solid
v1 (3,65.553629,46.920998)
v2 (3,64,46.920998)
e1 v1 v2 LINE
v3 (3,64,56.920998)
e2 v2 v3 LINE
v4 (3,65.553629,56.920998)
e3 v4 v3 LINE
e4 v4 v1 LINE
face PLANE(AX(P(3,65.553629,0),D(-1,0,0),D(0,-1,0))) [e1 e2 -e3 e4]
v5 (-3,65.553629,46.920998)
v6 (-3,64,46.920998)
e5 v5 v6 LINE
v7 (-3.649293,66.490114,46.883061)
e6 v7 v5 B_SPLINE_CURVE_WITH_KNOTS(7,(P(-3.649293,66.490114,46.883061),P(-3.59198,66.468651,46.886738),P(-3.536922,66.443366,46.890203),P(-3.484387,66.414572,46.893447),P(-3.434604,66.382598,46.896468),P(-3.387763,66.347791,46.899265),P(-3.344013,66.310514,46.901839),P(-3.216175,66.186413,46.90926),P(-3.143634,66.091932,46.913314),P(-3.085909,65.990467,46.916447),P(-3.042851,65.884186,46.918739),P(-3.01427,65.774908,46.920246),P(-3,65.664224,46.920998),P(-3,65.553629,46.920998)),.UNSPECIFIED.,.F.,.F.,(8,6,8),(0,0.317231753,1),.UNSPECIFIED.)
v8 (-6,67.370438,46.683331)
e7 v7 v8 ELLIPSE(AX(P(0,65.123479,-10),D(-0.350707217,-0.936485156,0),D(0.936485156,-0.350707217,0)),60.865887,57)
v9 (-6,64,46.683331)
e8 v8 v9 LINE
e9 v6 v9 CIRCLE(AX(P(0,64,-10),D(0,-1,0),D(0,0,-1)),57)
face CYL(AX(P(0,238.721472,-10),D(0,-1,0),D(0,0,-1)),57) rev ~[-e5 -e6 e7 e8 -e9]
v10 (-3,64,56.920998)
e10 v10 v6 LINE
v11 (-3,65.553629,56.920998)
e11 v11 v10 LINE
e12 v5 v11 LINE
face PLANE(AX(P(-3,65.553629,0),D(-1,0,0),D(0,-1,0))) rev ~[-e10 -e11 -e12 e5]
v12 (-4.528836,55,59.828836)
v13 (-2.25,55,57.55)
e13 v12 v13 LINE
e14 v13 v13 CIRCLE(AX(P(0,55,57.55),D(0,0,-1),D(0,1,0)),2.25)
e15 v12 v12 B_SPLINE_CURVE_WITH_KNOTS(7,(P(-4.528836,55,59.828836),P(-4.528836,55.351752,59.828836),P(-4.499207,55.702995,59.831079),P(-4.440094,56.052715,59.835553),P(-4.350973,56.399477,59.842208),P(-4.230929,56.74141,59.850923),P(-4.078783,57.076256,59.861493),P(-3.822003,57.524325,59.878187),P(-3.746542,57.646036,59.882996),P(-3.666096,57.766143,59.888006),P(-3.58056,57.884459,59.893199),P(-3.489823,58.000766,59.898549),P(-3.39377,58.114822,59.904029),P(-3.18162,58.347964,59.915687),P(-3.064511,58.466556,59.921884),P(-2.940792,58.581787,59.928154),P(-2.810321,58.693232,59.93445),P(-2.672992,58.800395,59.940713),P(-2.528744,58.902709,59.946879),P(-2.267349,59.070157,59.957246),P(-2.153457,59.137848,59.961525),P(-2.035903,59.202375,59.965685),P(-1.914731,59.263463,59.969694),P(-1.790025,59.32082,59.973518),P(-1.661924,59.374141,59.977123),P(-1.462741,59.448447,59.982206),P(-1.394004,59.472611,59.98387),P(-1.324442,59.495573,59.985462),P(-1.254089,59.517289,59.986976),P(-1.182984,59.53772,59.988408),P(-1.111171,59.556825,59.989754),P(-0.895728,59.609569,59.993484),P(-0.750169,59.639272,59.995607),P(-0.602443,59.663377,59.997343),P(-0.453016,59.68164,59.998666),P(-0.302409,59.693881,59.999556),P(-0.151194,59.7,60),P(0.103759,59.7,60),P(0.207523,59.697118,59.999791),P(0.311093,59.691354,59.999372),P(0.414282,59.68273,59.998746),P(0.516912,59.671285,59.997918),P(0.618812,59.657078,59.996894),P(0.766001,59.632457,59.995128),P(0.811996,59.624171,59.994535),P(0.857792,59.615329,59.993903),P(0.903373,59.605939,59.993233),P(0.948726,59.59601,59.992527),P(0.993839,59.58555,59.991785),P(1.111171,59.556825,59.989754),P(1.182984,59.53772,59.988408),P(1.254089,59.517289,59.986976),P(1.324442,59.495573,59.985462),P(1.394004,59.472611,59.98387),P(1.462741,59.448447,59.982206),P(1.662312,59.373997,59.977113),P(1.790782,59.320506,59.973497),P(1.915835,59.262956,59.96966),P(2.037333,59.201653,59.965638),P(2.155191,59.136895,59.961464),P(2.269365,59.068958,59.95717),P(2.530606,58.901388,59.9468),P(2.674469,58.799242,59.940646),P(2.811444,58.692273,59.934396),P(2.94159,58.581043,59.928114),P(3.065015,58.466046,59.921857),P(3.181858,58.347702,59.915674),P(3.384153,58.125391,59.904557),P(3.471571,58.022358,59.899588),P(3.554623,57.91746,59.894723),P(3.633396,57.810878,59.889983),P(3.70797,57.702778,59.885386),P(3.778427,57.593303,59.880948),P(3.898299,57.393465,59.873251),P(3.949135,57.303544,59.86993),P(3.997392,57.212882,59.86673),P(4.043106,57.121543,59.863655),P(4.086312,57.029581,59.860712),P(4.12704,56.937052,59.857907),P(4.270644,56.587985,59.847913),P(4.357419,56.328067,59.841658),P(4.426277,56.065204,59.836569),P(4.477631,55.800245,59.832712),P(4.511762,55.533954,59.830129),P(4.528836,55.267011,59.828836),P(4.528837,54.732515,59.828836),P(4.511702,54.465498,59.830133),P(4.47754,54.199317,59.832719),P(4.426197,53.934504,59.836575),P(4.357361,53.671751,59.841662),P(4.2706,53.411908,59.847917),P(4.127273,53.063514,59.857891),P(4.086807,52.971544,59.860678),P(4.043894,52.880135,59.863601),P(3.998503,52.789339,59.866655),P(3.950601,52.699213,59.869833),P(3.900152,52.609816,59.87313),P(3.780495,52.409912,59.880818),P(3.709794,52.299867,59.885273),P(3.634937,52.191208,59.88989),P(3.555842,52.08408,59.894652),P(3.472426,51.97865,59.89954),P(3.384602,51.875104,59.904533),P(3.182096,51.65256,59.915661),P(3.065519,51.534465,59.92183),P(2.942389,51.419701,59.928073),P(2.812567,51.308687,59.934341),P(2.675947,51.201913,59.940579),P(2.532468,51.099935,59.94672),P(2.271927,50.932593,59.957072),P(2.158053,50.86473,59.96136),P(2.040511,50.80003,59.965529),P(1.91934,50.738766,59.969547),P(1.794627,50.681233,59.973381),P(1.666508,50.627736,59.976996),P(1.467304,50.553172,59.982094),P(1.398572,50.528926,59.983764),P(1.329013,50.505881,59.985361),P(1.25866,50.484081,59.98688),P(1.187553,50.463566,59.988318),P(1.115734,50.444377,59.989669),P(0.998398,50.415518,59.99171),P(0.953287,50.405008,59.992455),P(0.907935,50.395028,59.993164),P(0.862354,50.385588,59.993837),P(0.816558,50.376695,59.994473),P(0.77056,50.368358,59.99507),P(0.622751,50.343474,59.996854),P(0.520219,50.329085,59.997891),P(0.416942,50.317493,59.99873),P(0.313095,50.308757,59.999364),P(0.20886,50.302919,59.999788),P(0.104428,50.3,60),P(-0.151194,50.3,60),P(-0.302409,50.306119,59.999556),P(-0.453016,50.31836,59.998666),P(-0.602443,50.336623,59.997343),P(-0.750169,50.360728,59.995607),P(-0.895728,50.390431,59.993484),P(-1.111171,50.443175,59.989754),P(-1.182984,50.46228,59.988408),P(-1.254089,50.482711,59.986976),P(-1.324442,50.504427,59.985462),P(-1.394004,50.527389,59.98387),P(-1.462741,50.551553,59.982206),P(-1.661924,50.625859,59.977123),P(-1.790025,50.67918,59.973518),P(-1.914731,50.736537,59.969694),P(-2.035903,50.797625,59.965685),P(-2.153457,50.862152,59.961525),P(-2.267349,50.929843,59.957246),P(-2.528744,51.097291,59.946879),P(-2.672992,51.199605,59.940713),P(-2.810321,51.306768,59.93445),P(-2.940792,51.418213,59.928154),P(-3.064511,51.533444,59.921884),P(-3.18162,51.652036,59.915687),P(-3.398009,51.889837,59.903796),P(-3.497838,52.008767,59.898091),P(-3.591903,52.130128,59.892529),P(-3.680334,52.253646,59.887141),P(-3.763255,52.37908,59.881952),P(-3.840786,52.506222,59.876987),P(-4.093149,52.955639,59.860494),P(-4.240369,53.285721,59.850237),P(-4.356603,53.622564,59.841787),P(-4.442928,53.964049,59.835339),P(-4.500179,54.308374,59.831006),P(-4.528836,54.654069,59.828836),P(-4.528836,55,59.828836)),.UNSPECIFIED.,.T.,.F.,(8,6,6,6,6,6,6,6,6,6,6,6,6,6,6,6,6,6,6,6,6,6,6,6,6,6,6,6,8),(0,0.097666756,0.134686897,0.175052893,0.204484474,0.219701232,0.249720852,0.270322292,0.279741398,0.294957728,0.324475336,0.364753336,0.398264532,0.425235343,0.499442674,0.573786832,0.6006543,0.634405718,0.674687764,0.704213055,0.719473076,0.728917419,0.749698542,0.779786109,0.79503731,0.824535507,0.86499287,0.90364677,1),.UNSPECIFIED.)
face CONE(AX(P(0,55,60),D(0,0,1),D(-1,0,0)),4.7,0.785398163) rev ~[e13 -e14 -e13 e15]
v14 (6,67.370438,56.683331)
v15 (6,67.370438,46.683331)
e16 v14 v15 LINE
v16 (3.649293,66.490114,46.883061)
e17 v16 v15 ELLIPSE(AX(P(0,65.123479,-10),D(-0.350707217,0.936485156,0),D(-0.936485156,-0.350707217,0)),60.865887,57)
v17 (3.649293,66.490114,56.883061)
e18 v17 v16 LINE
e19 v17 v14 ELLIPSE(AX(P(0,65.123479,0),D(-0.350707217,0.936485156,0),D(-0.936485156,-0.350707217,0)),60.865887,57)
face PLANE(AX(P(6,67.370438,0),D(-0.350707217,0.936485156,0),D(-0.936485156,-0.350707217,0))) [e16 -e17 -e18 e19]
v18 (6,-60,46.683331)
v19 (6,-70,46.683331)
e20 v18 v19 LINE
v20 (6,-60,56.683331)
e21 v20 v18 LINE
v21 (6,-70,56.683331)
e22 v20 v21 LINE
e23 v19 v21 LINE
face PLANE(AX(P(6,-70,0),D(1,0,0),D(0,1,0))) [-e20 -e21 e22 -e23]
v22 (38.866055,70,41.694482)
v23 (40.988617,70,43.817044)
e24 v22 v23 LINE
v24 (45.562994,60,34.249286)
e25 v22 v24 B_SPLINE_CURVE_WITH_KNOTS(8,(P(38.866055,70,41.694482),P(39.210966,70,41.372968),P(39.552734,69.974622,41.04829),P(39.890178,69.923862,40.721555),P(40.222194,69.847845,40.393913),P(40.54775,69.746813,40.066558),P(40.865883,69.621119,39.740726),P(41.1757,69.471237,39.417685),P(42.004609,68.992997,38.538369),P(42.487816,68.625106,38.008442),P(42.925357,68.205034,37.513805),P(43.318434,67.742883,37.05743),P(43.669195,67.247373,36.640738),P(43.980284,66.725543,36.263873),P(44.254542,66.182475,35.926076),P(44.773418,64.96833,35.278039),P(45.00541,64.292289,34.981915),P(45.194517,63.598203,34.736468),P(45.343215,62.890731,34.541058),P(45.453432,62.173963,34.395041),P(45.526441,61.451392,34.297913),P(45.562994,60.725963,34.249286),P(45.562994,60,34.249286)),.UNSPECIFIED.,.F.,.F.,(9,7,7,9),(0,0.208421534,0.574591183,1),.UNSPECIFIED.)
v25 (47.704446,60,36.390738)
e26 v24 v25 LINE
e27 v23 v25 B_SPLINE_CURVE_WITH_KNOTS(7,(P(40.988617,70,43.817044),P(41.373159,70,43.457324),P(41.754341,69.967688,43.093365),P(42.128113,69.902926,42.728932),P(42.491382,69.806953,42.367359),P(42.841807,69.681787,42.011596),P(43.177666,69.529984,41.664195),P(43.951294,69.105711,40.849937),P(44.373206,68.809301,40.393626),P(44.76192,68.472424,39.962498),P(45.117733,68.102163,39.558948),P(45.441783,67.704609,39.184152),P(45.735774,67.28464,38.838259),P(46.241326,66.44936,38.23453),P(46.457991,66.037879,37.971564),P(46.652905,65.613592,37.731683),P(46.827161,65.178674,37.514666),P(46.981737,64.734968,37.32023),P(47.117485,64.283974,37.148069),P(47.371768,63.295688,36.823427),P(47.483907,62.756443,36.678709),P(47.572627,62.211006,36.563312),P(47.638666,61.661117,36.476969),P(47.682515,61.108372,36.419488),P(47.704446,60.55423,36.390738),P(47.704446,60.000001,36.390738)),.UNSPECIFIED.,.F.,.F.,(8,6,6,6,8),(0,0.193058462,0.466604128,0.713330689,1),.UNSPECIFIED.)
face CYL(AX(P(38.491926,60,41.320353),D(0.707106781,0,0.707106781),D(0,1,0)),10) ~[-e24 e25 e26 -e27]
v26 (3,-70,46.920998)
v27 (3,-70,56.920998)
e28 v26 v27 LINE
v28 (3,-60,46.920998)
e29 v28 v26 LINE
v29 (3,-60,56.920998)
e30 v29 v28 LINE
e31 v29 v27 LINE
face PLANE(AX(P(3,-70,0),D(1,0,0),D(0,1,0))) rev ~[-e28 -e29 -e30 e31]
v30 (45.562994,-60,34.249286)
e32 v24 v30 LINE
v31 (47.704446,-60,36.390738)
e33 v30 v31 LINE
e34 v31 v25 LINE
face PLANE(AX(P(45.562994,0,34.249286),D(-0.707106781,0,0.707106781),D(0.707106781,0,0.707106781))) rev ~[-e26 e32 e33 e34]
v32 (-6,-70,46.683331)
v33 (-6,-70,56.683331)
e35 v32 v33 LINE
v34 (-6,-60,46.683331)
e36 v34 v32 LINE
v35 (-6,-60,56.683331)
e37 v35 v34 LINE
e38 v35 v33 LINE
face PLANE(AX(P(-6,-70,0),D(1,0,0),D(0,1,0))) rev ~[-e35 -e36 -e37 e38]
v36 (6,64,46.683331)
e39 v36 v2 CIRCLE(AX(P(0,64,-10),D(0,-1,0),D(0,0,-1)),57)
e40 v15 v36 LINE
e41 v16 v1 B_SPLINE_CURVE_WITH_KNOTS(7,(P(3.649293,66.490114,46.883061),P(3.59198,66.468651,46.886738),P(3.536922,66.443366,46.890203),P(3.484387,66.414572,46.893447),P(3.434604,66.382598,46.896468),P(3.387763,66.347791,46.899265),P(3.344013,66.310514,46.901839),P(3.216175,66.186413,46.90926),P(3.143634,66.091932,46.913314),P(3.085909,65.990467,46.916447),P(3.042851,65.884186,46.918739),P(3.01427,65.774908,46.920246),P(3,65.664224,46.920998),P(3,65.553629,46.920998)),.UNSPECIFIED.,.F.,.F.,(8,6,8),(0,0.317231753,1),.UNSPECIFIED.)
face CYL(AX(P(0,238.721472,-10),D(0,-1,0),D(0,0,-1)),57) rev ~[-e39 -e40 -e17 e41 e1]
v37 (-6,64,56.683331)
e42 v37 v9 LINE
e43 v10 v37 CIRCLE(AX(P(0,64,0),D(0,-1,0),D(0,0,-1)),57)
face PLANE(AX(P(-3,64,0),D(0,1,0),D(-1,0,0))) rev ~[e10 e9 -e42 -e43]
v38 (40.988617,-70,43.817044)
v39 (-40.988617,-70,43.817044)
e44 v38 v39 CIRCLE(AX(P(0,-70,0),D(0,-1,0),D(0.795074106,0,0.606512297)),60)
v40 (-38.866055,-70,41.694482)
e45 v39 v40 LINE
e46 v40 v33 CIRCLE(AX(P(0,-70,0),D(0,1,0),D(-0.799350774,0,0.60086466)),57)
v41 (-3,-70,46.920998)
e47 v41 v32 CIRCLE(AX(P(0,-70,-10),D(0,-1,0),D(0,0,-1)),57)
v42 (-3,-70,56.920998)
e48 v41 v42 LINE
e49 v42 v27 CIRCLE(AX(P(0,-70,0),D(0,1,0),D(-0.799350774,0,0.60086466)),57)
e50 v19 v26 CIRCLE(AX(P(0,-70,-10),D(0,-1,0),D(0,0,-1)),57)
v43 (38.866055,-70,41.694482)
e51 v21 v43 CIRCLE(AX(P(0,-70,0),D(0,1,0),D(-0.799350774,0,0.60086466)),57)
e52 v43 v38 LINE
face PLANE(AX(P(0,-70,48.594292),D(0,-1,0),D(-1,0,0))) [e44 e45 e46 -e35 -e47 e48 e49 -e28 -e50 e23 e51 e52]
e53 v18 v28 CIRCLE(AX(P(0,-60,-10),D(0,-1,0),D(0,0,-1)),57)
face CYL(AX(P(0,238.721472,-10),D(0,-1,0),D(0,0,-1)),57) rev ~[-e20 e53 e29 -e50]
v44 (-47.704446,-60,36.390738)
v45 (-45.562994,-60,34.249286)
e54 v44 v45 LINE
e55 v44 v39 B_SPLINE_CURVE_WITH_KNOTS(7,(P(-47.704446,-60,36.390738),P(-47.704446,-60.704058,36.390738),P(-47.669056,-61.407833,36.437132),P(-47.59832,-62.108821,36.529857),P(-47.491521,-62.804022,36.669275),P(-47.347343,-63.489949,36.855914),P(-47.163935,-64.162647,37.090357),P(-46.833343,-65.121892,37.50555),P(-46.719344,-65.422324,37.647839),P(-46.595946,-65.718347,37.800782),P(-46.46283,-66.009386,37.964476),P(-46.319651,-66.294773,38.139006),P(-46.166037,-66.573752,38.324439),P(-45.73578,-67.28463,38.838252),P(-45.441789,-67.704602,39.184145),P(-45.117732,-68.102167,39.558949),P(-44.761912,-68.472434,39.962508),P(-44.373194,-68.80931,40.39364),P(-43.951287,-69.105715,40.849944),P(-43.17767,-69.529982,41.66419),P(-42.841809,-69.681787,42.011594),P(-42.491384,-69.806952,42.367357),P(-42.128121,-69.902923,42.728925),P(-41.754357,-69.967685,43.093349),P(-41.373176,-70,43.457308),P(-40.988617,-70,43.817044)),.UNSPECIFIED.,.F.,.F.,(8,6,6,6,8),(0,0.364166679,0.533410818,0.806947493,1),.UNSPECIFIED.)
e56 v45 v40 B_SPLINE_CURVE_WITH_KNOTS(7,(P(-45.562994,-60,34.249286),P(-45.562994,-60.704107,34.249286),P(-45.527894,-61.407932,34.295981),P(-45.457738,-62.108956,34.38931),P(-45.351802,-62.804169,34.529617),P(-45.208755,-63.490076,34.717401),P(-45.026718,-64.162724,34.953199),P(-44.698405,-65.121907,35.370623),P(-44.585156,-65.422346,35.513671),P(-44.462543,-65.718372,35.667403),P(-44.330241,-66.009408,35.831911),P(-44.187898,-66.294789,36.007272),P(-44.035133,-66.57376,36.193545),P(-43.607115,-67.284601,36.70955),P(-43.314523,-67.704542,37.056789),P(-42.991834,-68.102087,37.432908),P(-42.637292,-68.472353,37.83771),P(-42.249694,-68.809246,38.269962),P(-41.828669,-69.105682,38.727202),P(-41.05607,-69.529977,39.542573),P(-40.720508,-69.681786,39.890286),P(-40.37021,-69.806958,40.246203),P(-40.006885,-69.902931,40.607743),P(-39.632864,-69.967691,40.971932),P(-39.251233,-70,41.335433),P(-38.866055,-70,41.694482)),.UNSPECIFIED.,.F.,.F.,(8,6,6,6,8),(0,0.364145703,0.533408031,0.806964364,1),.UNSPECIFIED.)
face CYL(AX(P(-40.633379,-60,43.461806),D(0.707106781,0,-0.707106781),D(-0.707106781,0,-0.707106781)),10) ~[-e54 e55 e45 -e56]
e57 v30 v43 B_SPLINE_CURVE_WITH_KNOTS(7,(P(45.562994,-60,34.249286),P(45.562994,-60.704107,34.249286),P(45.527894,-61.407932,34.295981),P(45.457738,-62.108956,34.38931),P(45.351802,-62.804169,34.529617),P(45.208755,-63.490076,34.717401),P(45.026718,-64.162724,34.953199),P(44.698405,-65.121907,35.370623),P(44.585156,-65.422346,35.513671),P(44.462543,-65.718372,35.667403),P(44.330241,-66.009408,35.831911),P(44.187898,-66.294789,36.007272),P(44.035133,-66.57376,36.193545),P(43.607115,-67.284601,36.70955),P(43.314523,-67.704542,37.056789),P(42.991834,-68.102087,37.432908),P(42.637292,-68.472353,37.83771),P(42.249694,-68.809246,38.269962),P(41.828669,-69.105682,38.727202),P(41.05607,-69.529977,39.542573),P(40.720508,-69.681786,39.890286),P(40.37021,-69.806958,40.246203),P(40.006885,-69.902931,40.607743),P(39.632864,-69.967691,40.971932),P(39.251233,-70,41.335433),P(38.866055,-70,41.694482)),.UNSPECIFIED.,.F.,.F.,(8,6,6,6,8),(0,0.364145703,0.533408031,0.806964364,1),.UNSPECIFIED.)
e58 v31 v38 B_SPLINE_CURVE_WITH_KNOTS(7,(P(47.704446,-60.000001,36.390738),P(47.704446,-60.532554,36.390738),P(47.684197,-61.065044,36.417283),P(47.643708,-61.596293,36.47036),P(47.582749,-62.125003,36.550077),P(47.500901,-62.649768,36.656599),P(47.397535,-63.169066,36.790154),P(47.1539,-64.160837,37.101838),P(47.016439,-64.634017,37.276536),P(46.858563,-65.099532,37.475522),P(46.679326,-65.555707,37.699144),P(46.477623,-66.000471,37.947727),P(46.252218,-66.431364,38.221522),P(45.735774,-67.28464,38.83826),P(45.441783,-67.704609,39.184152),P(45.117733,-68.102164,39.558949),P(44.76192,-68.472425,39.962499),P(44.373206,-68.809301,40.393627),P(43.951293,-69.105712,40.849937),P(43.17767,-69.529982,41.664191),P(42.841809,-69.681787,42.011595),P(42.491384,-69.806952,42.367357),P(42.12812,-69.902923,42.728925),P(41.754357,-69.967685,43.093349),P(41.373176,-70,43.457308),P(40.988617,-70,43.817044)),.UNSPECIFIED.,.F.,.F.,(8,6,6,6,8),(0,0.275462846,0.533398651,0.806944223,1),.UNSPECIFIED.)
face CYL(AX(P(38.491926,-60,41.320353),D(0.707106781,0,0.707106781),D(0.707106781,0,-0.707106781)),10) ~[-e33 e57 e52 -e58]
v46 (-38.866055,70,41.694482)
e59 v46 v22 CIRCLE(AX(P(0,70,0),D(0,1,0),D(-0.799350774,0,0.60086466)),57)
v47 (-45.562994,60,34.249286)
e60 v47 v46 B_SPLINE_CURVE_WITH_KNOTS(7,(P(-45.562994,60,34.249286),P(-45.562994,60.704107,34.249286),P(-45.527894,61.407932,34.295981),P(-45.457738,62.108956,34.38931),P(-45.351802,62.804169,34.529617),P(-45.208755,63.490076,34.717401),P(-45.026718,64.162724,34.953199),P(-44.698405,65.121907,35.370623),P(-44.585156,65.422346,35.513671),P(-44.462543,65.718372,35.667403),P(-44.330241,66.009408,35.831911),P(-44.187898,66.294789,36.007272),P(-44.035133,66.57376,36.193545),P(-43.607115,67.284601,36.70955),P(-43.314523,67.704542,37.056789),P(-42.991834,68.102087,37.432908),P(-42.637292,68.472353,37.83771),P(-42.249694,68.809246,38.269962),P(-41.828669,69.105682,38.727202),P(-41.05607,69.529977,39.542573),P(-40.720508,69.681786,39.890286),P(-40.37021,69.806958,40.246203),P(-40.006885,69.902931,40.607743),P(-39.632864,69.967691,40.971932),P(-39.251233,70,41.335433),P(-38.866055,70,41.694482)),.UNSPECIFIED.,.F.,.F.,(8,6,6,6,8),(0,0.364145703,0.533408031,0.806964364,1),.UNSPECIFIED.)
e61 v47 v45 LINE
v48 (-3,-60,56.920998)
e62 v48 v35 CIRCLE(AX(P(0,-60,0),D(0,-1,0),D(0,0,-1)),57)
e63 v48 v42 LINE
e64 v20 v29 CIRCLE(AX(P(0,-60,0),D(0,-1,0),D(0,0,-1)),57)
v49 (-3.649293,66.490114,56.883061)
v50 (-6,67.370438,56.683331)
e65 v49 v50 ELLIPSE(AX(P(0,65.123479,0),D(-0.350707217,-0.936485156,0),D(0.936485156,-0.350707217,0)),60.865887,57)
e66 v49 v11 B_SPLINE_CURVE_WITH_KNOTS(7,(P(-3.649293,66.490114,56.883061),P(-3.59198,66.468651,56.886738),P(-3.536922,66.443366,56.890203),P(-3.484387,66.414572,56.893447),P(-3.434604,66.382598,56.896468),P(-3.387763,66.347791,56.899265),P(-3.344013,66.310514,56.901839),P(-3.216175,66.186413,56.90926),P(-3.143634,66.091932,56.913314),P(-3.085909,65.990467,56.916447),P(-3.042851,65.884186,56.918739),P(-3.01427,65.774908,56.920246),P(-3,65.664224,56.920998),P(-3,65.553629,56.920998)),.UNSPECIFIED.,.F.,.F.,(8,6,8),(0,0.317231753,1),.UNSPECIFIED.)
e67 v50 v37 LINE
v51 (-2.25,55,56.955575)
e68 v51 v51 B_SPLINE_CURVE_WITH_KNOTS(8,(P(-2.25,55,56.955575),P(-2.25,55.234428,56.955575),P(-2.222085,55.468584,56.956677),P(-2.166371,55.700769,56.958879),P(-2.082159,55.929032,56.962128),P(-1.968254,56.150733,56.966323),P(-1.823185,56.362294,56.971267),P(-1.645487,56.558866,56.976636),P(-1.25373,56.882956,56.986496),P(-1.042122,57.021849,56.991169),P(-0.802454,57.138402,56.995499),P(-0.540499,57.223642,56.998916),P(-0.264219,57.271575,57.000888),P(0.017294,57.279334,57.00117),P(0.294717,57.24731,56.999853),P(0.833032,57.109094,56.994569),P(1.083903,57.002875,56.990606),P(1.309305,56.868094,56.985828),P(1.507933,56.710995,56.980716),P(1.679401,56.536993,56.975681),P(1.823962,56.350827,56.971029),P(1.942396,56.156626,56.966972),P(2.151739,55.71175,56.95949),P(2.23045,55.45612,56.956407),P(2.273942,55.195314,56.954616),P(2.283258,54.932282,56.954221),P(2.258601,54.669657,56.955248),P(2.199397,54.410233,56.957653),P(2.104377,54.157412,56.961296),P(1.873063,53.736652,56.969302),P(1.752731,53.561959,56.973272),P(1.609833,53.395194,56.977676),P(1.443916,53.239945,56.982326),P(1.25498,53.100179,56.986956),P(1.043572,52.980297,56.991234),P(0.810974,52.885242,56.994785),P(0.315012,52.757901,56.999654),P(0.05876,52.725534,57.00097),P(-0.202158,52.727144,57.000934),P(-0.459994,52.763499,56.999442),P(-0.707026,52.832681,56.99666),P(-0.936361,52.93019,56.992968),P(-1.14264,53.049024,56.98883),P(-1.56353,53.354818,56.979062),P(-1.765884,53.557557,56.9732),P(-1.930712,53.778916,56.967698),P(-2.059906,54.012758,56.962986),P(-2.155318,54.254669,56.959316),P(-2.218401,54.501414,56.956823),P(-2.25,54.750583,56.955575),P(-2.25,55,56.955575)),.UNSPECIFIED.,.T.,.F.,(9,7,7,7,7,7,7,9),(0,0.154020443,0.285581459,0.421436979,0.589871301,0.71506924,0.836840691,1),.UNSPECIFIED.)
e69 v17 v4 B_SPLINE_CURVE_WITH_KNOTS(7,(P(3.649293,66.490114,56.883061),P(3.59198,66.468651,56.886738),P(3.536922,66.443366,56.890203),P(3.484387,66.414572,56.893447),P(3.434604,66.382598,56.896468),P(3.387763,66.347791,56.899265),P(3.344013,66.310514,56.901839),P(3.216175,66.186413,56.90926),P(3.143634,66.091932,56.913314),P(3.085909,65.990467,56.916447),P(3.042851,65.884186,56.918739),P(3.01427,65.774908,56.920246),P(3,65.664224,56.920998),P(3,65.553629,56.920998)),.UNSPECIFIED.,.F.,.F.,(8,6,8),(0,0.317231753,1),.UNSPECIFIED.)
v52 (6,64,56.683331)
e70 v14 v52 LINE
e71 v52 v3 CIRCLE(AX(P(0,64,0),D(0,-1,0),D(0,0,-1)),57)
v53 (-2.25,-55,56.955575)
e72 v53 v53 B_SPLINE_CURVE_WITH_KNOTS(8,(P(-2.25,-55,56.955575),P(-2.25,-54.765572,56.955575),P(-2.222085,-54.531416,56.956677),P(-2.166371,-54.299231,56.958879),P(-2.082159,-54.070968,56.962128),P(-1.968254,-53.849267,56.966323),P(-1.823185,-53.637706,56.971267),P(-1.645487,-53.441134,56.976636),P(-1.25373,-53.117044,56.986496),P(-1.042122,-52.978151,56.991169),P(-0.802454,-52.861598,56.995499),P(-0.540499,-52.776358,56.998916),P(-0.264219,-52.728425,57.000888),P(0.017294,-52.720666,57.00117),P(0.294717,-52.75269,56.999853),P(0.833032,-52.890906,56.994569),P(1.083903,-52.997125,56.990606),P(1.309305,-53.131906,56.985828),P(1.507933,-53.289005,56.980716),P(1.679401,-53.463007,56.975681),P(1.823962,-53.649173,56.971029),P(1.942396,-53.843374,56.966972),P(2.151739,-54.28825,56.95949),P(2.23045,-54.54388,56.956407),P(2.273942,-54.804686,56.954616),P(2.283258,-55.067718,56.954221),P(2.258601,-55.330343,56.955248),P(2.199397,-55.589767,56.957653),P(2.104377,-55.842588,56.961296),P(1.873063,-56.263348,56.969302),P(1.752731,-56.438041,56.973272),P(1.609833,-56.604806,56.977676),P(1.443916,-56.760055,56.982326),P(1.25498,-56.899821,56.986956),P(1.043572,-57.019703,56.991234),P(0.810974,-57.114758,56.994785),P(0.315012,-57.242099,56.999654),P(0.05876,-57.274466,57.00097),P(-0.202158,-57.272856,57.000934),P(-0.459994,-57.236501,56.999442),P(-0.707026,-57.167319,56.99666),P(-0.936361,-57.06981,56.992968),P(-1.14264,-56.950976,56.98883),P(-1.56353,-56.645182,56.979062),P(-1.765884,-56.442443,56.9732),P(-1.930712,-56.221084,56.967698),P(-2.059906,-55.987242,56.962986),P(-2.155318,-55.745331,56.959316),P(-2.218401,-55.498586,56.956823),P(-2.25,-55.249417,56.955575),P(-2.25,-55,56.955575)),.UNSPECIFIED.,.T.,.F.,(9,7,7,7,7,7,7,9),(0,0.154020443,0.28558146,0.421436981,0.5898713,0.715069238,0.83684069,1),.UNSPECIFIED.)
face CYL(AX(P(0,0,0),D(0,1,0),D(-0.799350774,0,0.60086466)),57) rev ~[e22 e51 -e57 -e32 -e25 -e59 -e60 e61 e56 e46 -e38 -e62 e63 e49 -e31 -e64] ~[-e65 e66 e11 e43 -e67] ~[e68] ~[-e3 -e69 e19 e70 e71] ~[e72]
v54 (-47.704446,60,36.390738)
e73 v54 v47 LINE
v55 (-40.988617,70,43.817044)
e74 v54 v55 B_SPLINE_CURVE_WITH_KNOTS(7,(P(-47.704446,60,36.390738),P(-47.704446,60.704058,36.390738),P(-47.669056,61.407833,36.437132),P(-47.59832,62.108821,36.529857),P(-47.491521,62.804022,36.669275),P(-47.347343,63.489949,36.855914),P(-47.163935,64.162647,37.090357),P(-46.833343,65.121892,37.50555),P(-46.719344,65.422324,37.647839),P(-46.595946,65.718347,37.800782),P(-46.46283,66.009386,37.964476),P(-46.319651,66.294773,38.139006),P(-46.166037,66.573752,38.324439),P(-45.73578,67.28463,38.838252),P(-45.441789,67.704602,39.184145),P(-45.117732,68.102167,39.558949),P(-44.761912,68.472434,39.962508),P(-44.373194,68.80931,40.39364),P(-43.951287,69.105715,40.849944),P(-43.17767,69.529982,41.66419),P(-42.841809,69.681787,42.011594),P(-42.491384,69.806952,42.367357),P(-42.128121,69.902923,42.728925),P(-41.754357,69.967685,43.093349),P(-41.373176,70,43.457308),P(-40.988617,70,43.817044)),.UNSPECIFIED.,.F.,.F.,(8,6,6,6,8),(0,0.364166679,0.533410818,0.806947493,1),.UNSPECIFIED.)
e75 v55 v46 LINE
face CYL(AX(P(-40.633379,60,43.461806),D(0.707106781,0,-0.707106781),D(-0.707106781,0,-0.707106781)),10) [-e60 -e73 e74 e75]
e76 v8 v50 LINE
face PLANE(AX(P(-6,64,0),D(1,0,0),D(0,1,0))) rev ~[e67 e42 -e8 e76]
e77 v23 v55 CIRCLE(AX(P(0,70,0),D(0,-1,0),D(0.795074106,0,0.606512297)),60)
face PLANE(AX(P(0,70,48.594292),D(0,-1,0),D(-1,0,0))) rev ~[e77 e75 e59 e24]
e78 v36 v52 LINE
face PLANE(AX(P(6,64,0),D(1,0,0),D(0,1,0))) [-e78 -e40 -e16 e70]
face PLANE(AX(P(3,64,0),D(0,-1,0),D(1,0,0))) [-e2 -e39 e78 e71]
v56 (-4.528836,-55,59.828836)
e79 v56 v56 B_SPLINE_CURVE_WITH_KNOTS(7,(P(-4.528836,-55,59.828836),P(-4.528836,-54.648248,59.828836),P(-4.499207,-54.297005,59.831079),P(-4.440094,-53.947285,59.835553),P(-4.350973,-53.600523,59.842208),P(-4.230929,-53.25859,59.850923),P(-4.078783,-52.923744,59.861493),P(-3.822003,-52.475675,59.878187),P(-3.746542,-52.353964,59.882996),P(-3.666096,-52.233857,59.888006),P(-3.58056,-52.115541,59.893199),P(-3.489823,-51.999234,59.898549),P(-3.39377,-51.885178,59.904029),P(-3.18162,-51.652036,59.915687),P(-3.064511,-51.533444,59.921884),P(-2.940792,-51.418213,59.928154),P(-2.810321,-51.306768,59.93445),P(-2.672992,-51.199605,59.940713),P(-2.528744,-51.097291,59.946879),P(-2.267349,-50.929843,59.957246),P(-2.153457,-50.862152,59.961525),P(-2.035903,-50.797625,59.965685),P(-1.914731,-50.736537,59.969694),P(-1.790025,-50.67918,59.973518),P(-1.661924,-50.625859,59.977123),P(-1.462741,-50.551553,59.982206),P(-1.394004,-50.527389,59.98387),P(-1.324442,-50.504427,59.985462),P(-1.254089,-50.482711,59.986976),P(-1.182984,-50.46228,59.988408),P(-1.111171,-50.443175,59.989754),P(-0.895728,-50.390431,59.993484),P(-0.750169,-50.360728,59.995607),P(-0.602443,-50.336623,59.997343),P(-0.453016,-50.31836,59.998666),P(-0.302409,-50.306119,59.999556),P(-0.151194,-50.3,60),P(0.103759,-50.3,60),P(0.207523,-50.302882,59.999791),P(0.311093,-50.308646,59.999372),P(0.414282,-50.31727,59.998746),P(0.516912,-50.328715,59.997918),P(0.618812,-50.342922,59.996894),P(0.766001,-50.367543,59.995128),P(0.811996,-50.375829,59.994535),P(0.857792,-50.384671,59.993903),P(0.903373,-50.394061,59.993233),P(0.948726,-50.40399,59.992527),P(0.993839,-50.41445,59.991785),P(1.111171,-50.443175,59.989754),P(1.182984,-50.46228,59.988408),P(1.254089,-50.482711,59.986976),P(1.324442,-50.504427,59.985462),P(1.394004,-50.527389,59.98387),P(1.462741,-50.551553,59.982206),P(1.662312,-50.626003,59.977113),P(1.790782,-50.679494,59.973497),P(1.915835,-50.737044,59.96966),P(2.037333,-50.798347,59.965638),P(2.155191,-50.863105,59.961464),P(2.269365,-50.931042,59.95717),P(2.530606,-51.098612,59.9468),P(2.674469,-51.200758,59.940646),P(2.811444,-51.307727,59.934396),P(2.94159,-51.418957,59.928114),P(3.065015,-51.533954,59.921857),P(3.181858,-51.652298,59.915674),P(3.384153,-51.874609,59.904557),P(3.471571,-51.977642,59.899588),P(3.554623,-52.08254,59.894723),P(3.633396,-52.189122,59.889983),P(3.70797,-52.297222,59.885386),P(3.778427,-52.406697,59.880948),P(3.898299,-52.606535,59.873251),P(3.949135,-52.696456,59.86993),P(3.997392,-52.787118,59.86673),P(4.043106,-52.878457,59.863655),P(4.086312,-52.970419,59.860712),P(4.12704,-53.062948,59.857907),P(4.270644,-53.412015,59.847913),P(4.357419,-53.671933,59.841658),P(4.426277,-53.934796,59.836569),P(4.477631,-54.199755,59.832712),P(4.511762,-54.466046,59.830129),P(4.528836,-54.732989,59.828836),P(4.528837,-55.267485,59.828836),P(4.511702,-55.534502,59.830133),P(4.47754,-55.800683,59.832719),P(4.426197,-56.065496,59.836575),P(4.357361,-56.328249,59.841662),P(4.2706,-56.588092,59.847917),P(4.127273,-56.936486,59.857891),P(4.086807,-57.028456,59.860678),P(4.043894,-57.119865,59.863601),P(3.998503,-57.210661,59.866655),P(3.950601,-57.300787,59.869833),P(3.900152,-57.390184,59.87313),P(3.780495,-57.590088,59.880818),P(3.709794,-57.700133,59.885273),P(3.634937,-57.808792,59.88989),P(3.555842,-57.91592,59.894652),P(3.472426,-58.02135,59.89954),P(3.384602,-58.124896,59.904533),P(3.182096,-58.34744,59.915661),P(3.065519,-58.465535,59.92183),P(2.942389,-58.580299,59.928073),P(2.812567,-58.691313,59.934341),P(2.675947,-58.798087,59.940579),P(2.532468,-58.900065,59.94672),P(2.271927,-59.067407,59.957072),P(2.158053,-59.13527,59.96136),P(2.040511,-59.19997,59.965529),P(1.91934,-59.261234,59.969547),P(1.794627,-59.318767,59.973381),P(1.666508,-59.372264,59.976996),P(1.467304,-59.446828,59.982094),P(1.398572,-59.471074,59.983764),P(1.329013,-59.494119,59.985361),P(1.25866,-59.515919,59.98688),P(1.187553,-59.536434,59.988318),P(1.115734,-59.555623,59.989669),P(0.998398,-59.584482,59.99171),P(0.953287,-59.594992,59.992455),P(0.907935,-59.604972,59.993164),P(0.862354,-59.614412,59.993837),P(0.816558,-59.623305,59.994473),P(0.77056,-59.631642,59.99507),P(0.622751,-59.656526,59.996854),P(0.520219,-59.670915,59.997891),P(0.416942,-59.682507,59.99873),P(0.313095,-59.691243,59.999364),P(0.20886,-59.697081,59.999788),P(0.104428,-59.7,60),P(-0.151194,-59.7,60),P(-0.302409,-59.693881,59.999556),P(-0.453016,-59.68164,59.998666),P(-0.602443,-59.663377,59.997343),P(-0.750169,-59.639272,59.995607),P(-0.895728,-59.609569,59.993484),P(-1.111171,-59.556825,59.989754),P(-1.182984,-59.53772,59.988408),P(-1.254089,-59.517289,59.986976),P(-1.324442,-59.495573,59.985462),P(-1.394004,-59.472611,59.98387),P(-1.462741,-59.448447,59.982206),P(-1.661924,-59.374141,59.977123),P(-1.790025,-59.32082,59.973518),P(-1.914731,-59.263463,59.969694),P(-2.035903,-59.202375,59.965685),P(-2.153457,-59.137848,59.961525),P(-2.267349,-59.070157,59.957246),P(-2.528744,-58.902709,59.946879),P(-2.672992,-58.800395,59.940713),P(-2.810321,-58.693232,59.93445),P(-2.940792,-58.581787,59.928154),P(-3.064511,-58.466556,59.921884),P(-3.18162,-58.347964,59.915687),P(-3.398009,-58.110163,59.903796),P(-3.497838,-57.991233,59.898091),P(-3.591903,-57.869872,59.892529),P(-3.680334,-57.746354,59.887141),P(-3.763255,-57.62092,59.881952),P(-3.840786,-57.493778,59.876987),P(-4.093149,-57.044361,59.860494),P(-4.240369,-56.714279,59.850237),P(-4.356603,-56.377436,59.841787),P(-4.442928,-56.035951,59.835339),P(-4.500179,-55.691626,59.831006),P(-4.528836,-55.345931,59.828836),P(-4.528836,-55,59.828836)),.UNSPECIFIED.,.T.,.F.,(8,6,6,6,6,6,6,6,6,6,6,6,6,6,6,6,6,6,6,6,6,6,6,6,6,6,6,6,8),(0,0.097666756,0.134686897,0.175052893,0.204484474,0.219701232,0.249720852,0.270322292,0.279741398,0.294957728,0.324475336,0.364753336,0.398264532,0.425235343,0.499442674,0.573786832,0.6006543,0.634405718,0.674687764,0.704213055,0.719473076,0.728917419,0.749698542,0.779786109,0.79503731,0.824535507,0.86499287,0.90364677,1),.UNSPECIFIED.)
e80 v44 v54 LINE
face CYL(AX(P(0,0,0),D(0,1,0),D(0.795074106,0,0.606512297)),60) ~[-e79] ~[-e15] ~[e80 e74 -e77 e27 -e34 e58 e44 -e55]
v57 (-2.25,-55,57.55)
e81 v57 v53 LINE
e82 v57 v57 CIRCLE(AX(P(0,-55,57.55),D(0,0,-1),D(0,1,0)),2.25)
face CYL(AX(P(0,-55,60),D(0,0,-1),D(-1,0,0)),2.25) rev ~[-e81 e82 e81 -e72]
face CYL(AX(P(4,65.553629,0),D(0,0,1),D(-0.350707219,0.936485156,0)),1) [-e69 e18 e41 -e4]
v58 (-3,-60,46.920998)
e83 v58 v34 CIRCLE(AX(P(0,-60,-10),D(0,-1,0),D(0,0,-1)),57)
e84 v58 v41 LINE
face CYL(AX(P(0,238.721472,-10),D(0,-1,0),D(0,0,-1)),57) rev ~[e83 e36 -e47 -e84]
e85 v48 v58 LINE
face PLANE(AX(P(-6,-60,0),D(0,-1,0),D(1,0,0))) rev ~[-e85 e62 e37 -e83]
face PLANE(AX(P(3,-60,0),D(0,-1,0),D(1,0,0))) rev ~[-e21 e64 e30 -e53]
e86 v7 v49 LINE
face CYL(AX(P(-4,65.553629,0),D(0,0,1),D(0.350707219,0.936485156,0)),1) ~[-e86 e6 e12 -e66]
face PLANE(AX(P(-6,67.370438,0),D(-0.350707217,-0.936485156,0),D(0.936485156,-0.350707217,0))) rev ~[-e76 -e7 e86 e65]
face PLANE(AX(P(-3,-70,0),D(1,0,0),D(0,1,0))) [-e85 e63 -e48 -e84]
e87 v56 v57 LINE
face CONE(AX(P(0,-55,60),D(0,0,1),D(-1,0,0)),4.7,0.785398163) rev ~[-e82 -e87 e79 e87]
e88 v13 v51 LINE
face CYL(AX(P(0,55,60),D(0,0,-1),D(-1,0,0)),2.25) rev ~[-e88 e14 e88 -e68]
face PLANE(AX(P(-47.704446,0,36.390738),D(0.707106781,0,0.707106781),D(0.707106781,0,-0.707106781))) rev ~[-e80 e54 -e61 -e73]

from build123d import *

# Parameters (mm, degrees)
BOSS_EXTRUDE1_DEPTH                                 = 70
BOSS_EXTRUDE2_REACH                                 = 115.806
BOSS_EXTRUDE2_START_RADIUS                          = 57
BOSS_EXTRUDE2_END_RADIUS                            = 57
SKETCH7_W                                           = 3
SKETCH7_H                                           = 10
CSK_FOR_M4_COUNTERSUNK_FLAT_HEAD_SCREW2_D           = 4.5
CSK_FOR_M4_COUNTERSUNK_FLAT_HEAD_SCREW2_DEPTH       = 11.5
CSK_FOR_M4_COUNTERSUNK_FLAT_HEAD_SCREW2_CSINK_D     = 9.4
CSK_FOR_M4_COUNTERSUNK_FLAT_HEAD_SCREW2_CSINK_ANGLE = 90
CSK_FOR_M4_COUNTERSUNK_FLAT_HEAD_SCREW2_TIP         = 1.351936393
FILLET1_R                                           = 10


with BuildPart() as part:
    # Sketch2 → Boss-Extrude1 (new, symmetric)
    with BuildSketch(Plane(origin=(0, 0, 0), x_dir=(1, 0, 0), z_dir=(0, 1, 0))):
        with BuildLine():
            Line((-47.704446333, -36.390737834), (-45.562994128, -34.249285629))
            ThreePointArc((-45.562994128, -34.249285629), (0, -57), (45.562994128, -34.249285629))
            Line((45.562994128, -34.249285629), (47.704446333, -36.390737834))
            ThreePointArc((47.704446333, -36.390737834), (0, -60), (-47.704446333, -36.390737834))
        make_face()
    extrude(amount=BOSS_EXTRUDE1_DEPTH, both=True)

    # Boss-Extrude2: from a cylinder face, 115.806 long prism both ways, kept between that surface and its translate by the depth
    boss_extrude2_start = Plane(origin=(0, 0.207736, 0), z_dir=(0, -1, 0)) * Cylinder(BOSS_EXTRUDE2_START_RADIUS, 477.027472, mode=Mode.PRIVATE)
    boss_extrude2_end = Plane(origin=(0, 0.207736, -10), z_dir=(0, -1, 0)) * Cylinder(BOSS_EXTRUDE2_END_RADIUS, 477.027472, mode=Mode.PRIVATE)
    # Sketch7 → Boss-Extrude2 (add, from a surface)
    with BuildSketch(Plane.XY, mode=Mode.PRIVATE) as boss_extrude2_sk1:
        with Locations((4.5, -65)):
            Rectangle(SKETCH7_W, SKETCH7_H)
    boss_extrude2_tool1 = extrude(boss_extrude2_sk1.sketch, amount=BOSS_EXTRUDE2_REACH, both=True, mode=Mode.PRIVATE)
    add(((boss_extrude2_tool1 & boss_extrude2_start) - boss_extrude2_end).solids().sort_by_distance((4.5, -65, 51.802164))[0])
    # Sketch7 → Boss-Extrude2 (add, from a surface)
    with BuildSketch(Plane.XY, mode=Mode.PRIVATE) as boss_extrude2_sk2:
        with BuildLine():
            Line((3, 65.553629026), (3, 64))
            Line((3, 64), (6, 64))
            Line((6, 64), (6, 67.370437785))
            Line((6, 67.370437785), (3.649292783, 66.490114182))
            ThreePointArc((3.649292783, 66.490114182), (3.178200993, 66.123406518), (3, 65.553629026))
        make_face()
    boss_extrude2_tool2 = extrude(boss_extrude2_sk2.sketch, amount=BOSS_EXTRUDE2_REACH, both=True, mode=Mode.PRIVATE)
    add(((boss_extrude2_tool2 & boss_extrude2_start) - boss_extrude2_end).solids().sort_by_distance((4.5, -65, 51.802164))[0])
    # Sketch7 → Boss-Extrude2 (add, from a surface)
    with BuildSketch(Plane.XY, mode=Mode.PRIVATE) as boss_extrude2_sk3:
        with BuildLine():
            Line((-3, 65.553629026), (-3, 64))
            Line((-3, 64), (-6, 64))
            Line((-6, 64), (-6, 67.370437785))
            Line((-6, 67.370437785), (-3.649292783, 66.490114182))
            ThreePointArc((-3.649292783, 66.490114182), (-3.178200993, 66.123406518), (-3, 65.553629026))
        make_face()
    boss_extrude2_tool3 = extrude(boss_extrude2_sk3.sketch, amount=BOSS_EXTRUDE2_REACH, both=True, mode=Mode.PRIVATE)
    add(((boss_extrude2_tool3 & boss_extrude2_start) - boss_extrude2_end).solids().sort_by_distance((4.5, -65, 51.802164))[0])
    # Sketch7 → Boss-Extrude2 (add, from a surface)
    with BuildSketch(Plane.XY, mode=Mode.PRIVATE) as boss_extrude2_sk4:
        with Locations((-4.5, -65)):
            Rectangle(SKETCH7_W, SKETCH7_H)
    boss_extrude2_tool4 = extrude(boss_extrude2_sk4.sketch, amount=BOSS_EXTRUDE2_REACH, both=True, mode=Mode.PRIVATE)
    add(((boss_extrude2_tool4 & boss_extrude2_start) - boss_extrude2_end).solids().sort_by_distance((4.5, -65, 51.802164))[0])

    # CSK for M4 Countersunk Flat Head Screw2
    with Locations(Plane(origin=(0, 55, 60), x_dir=(1, 0, 0), z_dir=(0, 0, 1))):
        with Locations((0, 0), (0, -110)):
            CounterSinkHole(CSK_FOR_M4_COUNTERSUNK_FLAT_HEAD_SCREW2_D / 2, CSK_FOR_M4_COUNTERSUNK_FLAT_HEAD_SCREW2_CSINK_D / 2, depth=CSK_FOR_M4_COUNTERSUNK_FLAT_HEAD_SCREW2_DEPTH, counter_sink_angle=CSK_FOR_M4_COUNTERSUNK_FLAT_HEAD_SCREW2_CSINK_ANGLE)
            with Locations((0, 0, -(CSK_FOR_M4_COUNTERSUNK_FLAT_HEAD_SCREW2_DEPTH + CSK_FOR_M4_COUNTERSUNK_FLAT_HEAD_SCREW2_TIP / 2))):  # 118° drill point
                Cone(0, CSK_FOR_M4_COUNTERSUNK_FLAT_HEAD_SCREW2_D / 2, CSK_FOR_M4_COUNTERSUNK_FLAT_HEAD_SCREW2_TIP, mode=Mode.SUBTRACT)

    # Fillet1
    fillet1_edges = [part.edges().sort_by_distance(p)[0] for p in [
        (-46.63372023, 70, 35.320011731),
        (-46.63372023, -70, 35.320011731),
        (46.63372023, -70, 35.320011731),
        (46.63372023, 70, 35.320011731),
    ]]
    fillet(fillet1_edges, radius=FILLET1_R)


solid = part.part
